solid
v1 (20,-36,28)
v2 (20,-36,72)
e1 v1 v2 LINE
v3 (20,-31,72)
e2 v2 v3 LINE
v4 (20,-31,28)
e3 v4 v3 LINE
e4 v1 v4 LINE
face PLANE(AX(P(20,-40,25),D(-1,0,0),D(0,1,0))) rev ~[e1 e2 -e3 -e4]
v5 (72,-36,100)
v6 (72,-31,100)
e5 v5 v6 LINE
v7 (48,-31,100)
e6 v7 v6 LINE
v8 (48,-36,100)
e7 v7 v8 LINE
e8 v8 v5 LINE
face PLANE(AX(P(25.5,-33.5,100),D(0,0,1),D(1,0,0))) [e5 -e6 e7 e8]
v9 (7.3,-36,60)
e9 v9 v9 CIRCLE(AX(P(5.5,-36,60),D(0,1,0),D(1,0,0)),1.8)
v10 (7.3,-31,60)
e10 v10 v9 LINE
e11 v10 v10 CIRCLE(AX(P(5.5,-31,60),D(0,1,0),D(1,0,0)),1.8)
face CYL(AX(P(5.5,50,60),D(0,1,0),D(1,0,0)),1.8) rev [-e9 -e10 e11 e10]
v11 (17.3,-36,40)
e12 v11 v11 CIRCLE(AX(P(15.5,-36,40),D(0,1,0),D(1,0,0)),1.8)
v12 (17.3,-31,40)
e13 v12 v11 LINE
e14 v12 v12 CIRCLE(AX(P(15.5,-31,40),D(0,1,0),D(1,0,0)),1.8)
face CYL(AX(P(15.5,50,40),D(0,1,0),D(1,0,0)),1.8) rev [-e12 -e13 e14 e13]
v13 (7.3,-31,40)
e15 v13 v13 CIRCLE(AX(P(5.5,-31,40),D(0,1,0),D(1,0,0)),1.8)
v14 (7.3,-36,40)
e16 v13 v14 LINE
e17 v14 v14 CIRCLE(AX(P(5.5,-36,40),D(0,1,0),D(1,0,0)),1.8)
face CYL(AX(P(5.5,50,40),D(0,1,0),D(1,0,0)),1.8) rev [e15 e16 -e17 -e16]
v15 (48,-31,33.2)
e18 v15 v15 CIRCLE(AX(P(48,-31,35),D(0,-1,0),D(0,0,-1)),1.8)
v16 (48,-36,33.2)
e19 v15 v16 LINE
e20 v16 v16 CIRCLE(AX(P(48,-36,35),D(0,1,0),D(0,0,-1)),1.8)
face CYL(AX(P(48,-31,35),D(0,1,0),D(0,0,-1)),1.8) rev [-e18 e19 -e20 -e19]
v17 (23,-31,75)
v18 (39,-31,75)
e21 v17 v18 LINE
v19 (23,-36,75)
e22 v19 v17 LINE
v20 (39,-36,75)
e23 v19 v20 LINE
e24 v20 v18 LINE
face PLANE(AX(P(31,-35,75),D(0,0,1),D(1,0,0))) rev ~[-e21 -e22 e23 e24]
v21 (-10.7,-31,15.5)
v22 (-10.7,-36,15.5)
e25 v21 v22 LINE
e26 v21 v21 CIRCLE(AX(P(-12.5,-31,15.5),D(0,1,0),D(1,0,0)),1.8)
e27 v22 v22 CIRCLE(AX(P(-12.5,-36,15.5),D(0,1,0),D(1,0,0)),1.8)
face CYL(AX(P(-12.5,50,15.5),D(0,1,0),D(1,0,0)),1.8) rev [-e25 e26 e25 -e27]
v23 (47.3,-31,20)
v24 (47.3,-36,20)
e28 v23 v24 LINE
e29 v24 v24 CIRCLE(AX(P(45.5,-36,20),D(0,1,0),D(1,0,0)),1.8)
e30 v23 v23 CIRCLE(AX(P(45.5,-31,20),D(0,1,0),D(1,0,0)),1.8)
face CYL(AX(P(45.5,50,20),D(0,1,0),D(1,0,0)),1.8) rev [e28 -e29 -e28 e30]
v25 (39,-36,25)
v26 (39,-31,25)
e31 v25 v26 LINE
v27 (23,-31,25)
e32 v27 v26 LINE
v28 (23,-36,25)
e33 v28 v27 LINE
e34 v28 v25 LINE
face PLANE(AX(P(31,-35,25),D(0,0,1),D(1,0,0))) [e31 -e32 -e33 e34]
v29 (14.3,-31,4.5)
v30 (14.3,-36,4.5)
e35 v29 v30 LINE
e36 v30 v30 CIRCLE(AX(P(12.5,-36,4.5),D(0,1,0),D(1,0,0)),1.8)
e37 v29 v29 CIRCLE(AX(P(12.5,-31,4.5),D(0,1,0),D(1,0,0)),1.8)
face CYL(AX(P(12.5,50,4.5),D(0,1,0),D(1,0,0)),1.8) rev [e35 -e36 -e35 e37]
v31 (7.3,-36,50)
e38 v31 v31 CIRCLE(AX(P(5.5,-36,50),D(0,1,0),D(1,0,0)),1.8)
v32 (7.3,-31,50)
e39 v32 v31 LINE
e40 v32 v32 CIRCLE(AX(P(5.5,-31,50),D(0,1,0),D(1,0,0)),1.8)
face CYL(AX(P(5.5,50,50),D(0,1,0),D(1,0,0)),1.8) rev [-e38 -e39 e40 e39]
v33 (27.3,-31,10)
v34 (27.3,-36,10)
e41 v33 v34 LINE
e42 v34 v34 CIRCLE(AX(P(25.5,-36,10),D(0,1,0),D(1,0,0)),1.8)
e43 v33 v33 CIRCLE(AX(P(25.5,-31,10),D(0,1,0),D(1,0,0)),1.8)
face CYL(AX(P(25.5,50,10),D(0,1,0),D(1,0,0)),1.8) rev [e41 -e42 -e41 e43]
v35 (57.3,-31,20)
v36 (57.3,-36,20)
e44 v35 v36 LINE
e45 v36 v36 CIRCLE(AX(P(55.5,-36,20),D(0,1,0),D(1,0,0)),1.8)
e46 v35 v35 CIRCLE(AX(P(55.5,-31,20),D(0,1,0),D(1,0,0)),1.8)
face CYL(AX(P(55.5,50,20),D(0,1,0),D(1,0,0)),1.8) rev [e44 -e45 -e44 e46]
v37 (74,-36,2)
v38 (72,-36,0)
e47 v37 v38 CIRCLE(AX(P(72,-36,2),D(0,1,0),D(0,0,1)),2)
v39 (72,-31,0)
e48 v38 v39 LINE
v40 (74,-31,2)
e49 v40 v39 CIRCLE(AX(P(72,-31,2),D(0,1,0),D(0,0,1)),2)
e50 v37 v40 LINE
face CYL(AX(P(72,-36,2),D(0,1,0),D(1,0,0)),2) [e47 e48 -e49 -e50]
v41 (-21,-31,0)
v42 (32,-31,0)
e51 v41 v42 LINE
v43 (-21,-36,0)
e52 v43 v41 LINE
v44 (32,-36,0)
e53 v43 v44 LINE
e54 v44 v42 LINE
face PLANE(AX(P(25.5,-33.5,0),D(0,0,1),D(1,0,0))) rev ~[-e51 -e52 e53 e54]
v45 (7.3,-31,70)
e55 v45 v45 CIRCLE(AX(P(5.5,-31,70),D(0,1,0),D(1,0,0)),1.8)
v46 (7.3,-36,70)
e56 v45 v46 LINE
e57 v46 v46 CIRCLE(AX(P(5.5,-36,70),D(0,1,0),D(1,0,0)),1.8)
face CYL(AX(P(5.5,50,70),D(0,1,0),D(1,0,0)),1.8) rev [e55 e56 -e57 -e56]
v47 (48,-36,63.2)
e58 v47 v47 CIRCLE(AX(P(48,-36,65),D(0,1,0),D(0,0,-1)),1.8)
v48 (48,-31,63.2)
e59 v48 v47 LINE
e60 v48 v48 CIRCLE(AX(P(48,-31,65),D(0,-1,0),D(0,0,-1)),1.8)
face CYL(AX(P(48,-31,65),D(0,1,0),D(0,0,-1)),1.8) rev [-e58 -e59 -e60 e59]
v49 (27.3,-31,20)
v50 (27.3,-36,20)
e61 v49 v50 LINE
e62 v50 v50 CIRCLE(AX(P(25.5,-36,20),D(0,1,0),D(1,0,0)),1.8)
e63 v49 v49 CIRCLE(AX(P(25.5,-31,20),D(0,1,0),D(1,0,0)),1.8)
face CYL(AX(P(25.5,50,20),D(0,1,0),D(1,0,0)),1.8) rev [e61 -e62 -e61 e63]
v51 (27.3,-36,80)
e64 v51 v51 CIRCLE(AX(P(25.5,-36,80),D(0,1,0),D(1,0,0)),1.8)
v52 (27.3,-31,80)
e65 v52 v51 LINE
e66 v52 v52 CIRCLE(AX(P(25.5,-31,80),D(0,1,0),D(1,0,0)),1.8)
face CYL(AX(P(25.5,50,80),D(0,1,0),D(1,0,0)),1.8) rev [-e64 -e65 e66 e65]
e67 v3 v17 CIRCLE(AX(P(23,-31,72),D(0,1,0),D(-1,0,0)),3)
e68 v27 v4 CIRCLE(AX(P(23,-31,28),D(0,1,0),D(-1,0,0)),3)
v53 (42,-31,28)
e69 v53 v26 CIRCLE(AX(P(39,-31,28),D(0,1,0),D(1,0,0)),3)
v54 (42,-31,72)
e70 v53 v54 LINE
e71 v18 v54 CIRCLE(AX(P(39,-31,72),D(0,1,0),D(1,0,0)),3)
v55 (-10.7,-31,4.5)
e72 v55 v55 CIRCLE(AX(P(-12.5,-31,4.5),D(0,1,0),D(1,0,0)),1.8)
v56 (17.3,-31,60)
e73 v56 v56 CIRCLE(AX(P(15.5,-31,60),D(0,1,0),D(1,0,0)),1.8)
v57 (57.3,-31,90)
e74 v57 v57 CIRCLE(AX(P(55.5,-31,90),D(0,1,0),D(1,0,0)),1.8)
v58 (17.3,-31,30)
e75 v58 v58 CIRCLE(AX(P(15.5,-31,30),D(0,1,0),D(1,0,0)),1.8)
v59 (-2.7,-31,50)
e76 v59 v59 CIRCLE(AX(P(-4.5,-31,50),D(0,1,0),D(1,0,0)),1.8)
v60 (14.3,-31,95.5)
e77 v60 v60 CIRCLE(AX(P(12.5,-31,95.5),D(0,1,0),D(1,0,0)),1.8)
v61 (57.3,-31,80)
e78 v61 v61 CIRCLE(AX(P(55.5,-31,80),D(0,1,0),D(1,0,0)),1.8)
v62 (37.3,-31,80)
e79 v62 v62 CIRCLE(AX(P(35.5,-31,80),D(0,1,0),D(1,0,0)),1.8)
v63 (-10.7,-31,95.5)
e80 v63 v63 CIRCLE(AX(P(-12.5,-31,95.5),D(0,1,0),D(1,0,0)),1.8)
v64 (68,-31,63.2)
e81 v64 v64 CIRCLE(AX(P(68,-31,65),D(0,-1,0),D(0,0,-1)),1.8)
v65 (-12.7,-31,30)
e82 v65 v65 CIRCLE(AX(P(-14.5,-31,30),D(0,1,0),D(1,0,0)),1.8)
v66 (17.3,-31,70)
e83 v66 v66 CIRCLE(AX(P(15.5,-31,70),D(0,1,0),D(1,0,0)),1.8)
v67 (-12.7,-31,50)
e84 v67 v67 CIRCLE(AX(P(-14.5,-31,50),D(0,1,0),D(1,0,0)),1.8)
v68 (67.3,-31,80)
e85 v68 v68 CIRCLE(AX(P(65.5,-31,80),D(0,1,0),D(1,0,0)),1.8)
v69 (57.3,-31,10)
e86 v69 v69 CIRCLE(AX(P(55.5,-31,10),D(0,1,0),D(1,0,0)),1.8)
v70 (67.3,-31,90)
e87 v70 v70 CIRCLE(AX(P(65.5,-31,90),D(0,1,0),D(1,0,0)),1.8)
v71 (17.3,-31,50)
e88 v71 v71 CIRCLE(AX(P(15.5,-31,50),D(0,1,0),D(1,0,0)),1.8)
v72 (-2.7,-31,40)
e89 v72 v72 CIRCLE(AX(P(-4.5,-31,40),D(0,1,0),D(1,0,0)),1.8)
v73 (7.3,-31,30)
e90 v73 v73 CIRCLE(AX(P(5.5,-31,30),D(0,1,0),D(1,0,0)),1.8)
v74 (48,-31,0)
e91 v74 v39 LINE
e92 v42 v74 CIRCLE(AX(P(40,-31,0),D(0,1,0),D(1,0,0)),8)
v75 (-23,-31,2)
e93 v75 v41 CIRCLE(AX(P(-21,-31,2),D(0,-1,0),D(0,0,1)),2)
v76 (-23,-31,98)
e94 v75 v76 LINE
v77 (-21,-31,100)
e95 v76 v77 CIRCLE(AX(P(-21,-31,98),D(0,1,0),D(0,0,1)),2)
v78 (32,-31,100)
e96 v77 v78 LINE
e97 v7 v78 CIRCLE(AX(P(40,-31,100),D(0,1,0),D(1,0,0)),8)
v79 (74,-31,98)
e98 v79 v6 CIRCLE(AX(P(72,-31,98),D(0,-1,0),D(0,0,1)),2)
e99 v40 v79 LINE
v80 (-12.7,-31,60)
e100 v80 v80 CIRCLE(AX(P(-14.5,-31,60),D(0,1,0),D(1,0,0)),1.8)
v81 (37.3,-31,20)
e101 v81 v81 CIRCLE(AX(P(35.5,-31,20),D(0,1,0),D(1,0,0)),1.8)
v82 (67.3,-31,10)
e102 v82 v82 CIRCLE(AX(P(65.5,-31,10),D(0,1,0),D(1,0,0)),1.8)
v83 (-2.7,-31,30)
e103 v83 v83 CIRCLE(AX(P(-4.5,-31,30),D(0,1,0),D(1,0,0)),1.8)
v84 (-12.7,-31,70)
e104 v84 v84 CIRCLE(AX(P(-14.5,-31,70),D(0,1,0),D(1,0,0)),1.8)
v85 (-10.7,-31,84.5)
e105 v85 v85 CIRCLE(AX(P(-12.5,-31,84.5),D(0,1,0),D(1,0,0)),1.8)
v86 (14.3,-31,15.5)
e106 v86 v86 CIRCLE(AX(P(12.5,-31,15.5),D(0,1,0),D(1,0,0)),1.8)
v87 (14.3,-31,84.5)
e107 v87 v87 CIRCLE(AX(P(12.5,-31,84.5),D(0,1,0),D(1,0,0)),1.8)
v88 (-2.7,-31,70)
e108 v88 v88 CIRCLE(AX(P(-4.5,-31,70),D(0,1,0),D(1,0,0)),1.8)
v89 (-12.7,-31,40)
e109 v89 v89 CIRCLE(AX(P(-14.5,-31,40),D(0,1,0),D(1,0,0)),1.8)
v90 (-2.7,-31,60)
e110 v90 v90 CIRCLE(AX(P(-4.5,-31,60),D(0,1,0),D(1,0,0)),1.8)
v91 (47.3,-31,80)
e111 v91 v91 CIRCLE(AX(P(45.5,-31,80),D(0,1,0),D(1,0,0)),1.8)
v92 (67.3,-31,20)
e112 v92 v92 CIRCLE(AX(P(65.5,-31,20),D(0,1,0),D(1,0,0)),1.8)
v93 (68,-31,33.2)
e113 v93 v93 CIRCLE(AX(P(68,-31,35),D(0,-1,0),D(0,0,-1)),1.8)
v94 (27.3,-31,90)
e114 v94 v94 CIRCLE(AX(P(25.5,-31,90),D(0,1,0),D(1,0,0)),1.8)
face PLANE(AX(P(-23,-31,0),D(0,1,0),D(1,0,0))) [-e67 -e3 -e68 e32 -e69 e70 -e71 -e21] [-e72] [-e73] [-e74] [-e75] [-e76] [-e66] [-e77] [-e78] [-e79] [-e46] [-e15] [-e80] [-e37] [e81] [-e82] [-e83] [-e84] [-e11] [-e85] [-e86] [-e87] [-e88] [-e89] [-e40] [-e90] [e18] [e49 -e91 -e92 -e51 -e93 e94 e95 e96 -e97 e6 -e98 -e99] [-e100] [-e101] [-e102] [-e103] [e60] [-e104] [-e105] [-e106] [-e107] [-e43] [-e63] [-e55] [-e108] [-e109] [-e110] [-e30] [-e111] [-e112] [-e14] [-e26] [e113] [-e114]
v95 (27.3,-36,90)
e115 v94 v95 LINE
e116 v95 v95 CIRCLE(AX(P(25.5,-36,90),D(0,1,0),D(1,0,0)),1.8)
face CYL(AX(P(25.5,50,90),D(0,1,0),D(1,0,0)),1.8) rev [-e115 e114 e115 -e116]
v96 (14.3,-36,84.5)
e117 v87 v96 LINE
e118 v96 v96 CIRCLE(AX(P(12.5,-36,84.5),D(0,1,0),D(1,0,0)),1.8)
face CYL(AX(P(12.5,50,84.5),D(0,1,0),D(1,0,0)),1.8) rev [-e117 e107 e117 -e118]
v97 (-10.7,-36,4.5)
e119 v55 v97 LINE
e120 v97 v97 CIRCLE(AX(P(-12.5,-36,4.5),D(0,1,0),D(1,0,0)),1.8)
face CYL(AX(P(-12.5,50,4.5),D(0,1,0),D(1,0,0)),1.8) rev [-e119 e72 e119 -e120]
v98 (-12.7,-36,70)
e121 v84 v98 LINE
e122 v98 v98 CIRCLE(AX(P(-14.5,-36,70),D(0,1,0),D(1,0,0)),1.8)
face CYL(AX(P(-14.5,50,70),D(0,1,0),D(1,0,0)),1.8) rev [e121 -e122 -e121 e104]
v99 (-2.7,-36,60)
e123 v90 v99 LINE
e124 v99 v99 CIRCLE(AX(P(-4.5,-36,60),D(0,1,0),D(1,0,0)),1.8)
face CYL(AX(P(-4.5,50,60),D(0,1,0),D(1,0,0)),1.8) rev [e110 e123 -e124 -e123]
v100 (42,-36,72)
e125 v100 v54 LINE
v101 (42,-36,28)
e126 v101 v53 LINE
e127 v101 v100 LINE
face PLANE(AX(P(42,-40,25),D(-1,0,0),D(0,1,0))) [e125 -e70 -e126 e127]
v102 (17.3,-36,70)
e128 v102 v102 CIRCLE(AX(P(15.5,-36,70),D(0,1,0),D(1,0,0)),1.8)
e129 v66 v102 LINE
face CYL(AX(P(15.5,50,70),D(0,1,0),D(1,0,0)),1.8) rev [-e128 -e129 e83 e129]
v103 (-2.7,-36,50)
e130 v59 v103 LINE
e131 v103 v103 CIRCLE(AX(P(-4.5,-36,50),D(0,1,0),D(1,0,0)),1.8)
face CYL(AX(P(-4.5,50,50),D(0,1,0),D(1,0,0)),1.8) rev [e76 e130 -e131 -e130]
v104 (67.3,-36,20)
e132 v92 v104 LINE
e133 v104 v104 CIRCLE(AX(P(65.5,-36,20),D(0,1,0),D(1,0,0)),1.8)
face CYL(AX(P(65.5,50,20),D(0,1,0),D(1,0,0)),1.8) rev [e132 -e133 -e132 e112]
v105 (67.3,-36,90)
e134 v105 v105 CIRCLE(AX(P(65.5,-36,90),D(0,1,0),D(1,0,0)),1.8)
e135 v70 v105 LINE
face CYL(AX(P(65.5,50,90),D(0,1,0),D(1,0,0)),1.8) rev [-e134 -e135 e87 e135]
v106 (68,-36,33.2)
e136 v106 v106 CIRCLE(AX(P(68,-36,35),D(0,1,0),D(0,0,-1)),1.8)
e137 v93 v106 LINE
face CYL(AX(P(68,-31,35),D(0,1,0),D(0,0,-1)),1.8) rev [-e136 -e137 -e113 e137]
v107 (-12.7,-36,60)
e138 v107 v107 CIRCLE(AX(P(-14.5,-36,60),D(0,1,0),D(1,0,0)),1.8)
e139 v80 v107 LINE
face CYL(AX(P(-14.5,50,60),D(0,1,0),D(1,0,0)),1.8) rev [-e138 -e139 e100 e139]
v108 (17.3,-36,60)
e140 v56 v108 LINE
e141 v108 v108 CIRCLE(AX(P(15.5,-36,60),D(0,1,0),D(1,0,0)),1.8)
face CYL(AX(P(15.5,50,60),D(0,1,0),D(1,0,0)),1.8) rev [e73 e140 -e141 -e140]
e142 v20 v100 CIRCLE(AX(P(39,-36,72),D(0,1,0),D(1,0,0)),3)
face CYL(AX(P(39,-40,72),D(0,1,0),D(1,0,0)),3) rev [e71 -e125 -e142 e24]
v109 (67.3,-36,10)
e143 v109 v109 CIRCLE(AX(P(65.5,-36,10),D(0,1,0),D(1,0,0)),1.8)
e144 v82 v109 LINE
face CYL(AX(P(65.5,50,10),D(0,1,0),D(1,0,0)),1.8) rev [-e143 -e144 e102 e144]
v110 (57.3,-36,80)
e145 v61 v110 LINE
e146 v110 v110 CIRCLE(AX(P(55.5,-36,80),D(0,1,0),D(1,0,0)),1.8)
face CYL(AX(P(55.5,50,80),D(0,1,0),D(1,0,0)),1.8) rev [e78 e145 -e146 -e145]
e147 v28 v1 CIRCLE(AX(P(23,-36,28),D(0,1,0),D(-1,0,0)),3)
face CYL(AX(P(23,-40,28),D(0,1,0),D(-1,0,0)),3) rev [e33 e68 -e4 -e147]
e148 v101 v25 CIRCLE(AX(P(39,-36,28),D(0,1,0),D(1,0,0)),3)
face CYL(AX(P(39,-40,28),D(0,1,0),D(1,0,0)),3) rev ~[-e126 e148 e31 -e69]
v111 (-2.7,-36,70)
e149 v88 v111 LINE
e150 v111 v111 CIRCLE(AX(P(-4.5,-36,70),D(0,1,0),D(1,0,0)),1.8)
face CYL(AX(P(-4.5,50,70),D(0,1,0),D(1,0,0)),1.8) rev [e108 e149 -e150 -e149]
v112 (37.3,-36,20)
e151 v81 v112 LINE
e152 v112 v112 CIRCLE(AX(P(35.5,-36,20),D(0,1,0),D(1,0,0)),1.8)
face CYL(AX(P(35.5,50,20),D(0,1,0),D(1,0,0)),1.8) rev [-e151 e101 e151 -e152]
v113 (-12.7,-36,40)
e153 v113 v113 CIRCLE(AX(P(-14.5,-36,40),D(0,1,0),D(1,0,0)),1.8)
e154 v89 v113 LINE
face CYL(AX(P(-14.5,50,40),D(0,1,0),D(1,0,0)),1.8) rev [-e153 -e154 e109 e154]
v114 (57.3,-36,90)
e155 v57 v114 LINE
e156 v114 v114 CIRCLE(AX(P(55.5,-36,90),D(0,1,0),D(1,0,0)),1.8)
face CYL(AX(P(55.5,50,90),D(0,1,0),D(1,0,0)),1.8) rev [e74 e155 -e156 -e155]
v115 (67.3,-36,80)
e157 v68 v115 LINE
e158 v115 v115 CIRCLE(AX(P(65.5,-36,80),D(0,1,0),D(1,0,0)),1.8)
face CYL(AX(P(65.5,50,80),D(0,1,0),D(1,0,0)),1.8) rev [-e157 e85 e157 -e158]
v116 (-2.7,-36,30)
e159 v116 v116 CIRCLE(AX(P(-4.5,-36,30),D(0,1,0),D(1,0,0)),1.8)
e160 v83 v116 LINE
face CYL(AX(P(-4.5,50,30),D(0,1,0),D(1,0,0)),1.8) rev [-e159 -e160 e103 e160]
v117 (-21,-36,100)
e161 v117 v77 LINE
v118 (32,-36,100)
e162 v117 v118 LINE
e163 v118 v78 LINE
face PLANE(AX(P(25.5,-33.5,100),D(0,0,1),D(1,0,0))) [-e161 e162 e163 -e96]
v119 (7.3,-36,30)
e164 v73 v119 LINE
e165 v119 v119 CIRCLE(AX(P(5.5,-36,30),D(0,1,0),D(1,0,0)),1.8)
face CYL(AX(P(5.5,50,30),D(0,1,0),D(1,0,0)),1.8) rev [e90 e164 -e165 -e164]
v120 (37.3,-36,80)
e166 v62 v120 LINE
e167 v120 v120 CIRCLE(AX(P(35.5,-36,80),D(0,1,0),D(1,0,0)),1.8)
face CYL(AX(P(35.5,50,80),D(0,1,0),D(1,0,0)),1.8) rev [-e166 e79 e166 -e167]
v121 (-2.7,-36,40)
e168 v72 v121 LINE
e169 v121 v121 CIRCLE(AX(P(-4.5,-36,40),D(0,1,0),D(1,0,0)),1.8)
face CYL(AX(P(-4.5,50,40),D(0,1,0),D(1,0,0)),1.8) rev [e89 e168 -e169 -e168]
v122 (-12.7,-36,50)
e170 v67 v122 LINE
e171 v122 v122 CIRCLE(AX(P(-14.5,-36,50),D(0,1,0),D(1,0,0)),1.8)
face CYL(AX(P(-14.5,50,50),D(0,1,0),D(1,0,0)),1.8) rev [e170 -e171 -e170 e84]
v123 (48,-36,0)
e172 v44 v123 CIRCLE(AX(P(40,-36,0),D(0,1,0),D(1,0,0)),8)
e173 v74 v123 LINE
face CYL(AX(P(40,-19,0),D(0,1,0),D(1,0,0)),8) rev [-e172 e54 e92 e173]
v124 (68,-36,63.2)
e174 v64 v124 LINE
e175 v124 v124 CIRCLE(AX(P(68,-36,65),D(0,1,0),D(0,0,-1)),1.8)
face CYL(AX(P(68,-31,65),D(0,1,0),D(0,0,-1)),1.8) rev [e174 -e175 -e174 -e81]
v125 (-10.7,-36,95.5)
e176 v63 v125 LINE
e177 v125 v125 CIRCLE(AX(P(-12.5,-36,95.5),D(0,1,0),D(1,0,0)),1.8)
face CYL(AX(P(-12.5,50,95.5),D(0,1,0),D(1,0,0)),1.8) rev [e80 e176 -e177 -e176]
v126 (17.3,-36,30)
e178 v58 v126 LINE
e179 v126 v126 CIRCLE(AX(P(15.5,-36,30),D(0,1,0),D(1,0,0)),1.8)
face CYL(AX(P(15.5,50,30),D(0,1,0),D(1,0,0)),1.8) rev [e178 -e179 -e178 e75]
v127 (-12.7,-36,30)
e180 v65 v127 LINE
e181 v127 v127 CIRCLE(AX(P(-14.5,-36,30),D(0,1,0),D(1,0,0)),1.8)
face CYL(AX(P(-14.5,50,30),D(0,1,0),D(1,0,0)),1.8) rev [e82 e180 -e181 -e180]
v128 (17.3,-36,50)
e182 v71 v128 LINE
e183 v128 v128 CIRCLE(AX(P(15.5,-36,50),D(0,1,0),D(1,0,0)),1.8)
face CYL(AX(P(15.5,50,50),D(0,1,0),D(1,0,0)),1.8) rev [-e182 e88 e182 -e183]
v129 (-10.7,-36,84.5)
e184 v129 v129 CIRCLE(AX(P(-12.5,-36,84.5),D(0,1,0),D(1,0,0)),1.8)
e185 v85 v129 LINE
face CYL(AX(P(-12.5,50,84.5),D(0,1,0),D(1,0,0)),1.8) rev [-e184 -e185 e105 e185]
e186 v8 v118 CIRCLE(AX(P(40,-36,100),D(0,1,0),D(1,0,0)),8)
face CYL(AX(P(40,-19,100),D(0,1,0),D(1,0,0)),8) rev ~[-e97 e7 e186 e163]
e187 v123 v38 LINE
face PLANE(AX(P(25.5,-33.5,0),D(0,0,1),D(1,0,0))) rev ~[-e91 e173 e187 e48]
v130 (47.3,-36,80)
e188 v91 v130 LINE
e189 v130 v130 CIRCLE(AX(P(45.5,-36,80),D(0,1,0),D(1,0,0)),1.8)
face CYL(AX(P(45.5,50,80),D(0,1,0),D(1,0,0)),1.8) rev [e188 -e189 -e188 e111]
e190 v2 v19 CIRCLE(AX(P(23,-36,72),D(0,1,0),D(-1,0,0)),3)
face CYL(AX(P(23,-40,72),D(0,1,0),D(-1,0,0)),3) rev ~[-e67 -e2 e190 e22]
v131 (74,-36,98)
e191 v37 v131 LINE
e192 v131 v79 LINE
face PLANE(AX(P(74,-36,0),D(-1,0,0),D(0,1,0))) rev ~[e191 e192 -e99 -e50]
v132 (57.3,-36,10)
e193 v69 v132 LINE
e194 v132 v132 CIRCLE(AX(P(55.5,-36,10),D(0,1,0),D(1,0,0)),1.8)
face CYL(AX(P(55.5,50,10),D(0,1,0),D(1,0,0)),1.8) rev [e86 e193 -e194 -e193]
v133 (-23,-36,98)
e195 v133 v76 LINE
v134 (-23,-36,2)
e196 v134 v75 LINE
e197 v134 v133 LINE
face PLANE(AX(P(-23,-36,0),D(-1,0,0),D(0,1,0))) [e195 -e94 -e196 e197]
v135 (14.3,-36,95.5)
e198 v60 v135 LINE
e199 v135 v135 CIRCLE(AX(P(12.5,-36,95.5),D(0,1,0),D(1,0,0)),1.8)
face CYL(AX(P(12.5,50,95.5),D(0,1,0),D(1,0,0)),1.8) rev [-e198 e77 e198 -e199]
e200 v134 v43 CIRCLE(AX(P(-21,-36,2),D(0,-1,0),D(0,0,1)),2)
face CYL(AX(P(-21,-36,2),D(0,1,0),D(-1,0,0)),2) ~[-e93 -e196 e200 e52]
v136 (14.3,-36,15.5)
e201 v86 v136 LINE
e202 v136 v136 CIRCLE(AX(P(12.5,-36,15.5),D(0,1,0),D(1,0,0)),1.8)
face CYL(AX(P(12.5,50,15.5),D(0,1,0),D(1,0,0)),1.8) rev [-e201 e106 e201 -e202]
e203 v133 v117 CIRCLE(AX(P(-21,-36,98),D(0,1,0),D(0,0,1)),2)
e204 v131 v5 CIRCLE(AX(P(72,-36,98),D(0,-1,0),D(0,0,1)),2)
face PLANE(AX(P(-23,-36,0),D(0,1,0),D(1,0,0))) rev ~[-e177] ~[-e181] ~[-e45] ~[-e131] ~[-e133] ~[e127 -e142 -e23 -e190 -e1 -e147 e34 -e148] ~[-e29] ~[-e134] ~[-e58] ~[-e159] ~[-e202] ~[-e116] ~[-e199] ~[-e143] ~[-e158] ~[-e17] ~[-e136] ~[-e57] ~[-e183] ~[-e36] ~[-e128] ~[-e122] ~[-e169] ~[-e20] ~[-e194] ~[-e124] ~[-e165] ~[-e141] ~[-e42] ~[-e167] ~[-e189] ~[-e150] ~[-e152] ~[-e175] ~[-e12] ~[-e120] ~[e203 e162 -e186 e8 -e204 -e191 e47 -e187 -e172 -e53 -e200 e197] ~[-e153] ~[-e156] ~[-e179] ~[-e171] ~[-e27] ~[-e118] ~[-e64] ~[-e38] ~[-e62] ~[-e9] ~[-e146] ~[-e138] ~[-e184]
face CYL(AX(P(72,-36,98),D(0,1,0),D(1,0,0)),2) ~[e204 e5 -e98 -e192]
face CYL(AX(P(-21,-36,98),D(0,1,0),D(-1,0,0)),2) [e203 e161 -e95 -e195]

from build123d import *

# Parameters (mm, degrees)
CYLINDER011021_R         = 1.8
CYLINDER011021_DEPTH     = 100
ARRAY016_X_COUNT         = 2
ARRAY016_X_PITCH         = 25
ARRAY016_Y_COUNT         = 2
ARRAY016_Y_PITCH         = 11
ARRAY016_PLACEMENT_ANGLE = 90
ARRAY015_Z_COUNT         = 2
ARRAY015_Z_PITCH         = 80
CYLINDER011026_R         = 1.8
CYLINDER011026_DEPTH     = 10
ARRAY014_X_COUNT         = 2
ARRAY014_X_PITCH         = 30
ARRAY014_Y_COUNT         = 2
ARRAY014_Y_PITCH         = 20
ARRAY014_PITCH_ANGLE     = 90
ARRAY014_PLACEMENT_ANGLE = -90
BOX008_W                 = 22
BOX008_H                 = 10
BOX008_DEPTH             = 50
FILLET006_R              = 3
BOX009_W                 = 16
BOX009_H                 = 200
BOX009_DEPTH             = 50
CYLINDER011028_R         = 8
CYLINDER011028_DEPTH     = 200
SKETCH005_W              = 42.117567
SKETCH005_H              = 23.738708
SKETCH005_W_2            = 40.471139
SKETCH005_H_2            = 27.047569
SKETCH005_W_3            = 29.381024
SKETCH005_H_3            = 46.19655
SKETCH005_W_4            = 20.234924
SKETCH005_H_4            = 18.380661
SKETCH005_W_5            = 22.001269
SKETCH005_H_5            = 17.778789
EXTRUDE003_DEPTH         = 50
CYLINDER011025_R         = 1.8
CYLINDER011025_DEPTH     = 100
ARRAY013_X_COUNT         = 9
ARRAY013_X_PITCH         = 10
ARRAY013_Z_COUNT         = 9
ARRAY013_Z_PITCH         = 10
BOX007_W                 = 97
BOX007_H                 = 5
BOX007_DEPTH             = 100
FILLET005_R              = 2


with BuildPart() as bolt_hole_array_pair002:
    # Cylinder011021 → Cylinder011021 (new body)
    with BuildSketch(Plane.XY.offset(-50)):
        Circle(CYLINDER011021_R)
    extrude(amount=CYLINDER011021_DEPTH)

    # Array016 X: bolt hole array pair002 ×2


with BuildPart() as bolt_hole_array_pair002_1:
    add(bolt_hole_array_pair002.part)
    with Locations(*[(i * ARRAY016_X_PITCH, 0, 0) for i in range(1, ARRAY016_X_COUNT)]):
        add(bolt_hole_array_pair002.part)

    # Array016 Y: bolt hole array pair002 ×2


with BuildPart() as bolt_hole_array_pair002_2:
    add(bolt_hole_array_pair002_1.part)
    with Locations(*[(0, i * ARRAY016_Y_PITCH, 0) for i in range(1, ARRAY016_Y_COUNT)]):
        add(bolt_hole_array_pair002_1.part)


with BuildPart() as bolt_hole_array_pair002_3:
    # Array016 placement: moved
    add(bolt_hole_array_pair002_2.part.moved(Location((-12.5, 0, 4.5))).rotate(Axis((-12.5, 0, 4.5), (1, 0, 0)), ARRAY016_PLACEMENT_ANGLE))

    # Array015 Z: bolt hole array pair002 ×2


with BuildPart() as bolt_hole_array_pair002_4:
    add(bolt_hole_array_pair002_3.part)
    with Locations(*[(0, 0, i * ARRAY015_Z_PITCH) for i in range(1, ARRAY015_Z_COUNT)]):
        add(bolt_hole_array_pair002_3.part)


with BuildPart() as stepper_mount_hole_array002:
    # Cylinder011026 → Cylinder011026 (new body)
    with BuildSketch(Plane.XY):
        Circle(CYLINDER011026_R)
    extrude(amount=CYLINDER011026_DEPTH)

    # Array014 X: stepper mount hole array002 ×2


with BuildPart() as stepper_mount_hole_array002_1:
    add(stepper_mount_hole_array002.part)
    with Locations(*[(i * ARRAY014_X_PITCH, 0, 0) for i in range(1, ARRAY014_X_COUNT)]):
        add(stepper_mount_hole_array002.part)

    # Array014 Y: stepper mount hole array002 ×2


with BuildPart() as stepper_mount_hole_array002_2:
    add(stepper_mount_hole_array002_1.part)
    with Locations(*[(0, i * ARRAY014_Y_PITCH, 0) for i in range(1, ARRAY014_Y_COUNT)]):
        add(stepper_mount_hole_array002_1.part)


with BuildPart() as stepper_mount_hole_array002_3:
    # Array014 pitch: moved
    add(stepper_mount_hole_array002_2.part.rotate(Axis((0, 0, 0), (0, 1, 0)), ARRAY014_PITCH_ANGLE))


with BuildPart() as stepper_mount_hole_array002_4:
    # Array014 placement: moved
    add(stepper_mount_hole_array002_3.part.moved(Location((48, -31, 65))).rotate(Axis((48, -31, 65), (0, 0, 1)), ARRAY014_PLACEMENT_ANGLE))


with BuildPart() as belt_hole_fillet002:
    # Box008 → Box008 (new body)
    with BuildSketch(Plane(origin=(20, -40, 25), x_dir=(1, 0, 0), z_dir=(0, 0, 1))):
        with Locations((11, 5)):
            Rectangle(BOX008_W, BOX008_H)
    extrude(amount=BOX008_DEPTH)

    # Fillet006
    fillet006_edges = [belt_hole_fillet002.edges().sort_by_distance(p)[0] for p in [
        (20, -35, 75),
        (20, -35, 25),
        (42, -35, 75),
        (42, -35, 25),
    ]]
    fillet(fillet006_edges, radius=FILLET006_R)


with BuildPart() as shaft_extension_cube002:
    # Box009 → Box009 (new body)
    with BuildSketch(Plane(origin=(-8, -200, -50), x_dir=(1, 0, 0), z_dir=(0, 0, 1))):
        with Locations((8, 100)):
            Rectangle(BOX009_W, BOX009_H)
    extrude(amount=BOX009_DEPTH)


with BuildPart() as shaft_16mm_hole002:
    # Cylinder011028 → Cylinder011028 (new body)
    with BuildSketch(Plane.XZ):
        Circle(CYLINDER011028_R)
    extrude(amount=CYLINDER011028_DEPTH)

    # Fusion010: union shaft extension cube002
    add(shaft_extension_cube002.part)


with BuildPart() as shaft_16mm_hole002_1:
    # Fusion010 placement: moved
    add(shaft_16mm_hole002.part.moved(Location((40, -19, 0))))


with BuildPart() as part_mirroring004:
    # Part__Mirroring004: instance of shaft 16mm hole002
    add(shaft_16mm_hole002_1.part.mirror(Plane(origin=(0, 0, 50), x_dir=(0, 1, 0), z_dir=(0, 0, 1))))


with BuildPart() as general_holes_extrude002:
    # Sketch005 → Extrude003 (new body, symmetric)
    with BuildSketch(Plane.XZ):
        with Locations((-1.795196, 11.674214)):
            Rectangle(SKETCH005_W, SKETCH005_H)
        with Locations((-0.985158, 89.151065)):
            Rectangle(SKETCH005_W_2, SKETCH005_H_2)
        with Locations((57.017252, 49.302802)):
            Rectangle(SKETCH005_W_3, SKETCH005_H_3)
        with Locations((39.542156, 93.364433)):
            Rectangle(SKETCH005_W_4, SKETCH005_H_4)
        with Locations((39.547934, 5.882593)):
            Rectangle(SKETCH005_W_5, SKETCH005_H_5)
    extrude(amount=EXTRUDE003_DEPTH, both=True)


with BuildPart() as hole_fusion002:
    # Cylinder011025 → Cylinder011025 (new body)
    with BuildSketch(Plane.XZ.offset(-50)):
        Circle(CYLINDER011025_R)
    extrude(amount=CYLINDER011025_DEPTH)

    # Array013 X: hole fusion002 ×9


with BuildPart() as hole_fusion002_1:
    add(hole_fusion002.part)
    with Locations(*[(i * ARRAY013_X_PITCH, 0, 0) for i in range(1, ARRAY013_X_COUNT)]):
        add(hole_fusion002.part)

    # Array013 Z: hole fusion002 ×9


with BuildPart() as hole_fusion002_2:
    add(hole_fusion002_1.part)
    with Locations(*[(0, 0, i * ARRAY013_Z_PITCH) for i in range(1, ARRAY013_Z_COUNT)]):
        add(hole_fusion002_1.part)


with BuildPart() as hole_fusion002_3:
    # Array013 placement: moved
    add(hole_fusion002_2.part.moved(Location((-14.5, 0, 10))))

    # Cut023015009015: cut general holes extrude002
    add(general_holes_extrude002.part, mode=Mode.SUBTRACT)

    # Fusion011: union bolt hole array pair002, stepper mount hole array002, belt hole fillet002, Part__Mirroring004, shaft 16mm hole002
    add(bolt_hole_array_pair002_4.part)
    add(stepper_mount_hole_array002_4.part)
    add(belt_hole_fillet002.part)
    add(part_mirroring004.part)
    add(shaft_16mm_hole002_1.part)


with BuildPart() as side_plate_cut002:
    # Box007 → Box007 (new body)
    with BuildSketch(Plane(origin=(-23, -36, 0), x_dir=(1, 0, 0), z_dir=(0, 0, 1))):
        with Locations((48.5, 2.5)):
            Rectangle(BOX007_W, BOX007_H)
    extrude(amount=BOX007_DEPTH)

    # Fillet005
    fillet005_edges = [side_plate_cut002.edges().sort_by_distance(p)[0] for p in [
        (-23, -33.5, 100),
        (-23, -33.5, 0),
        (74, -33.5, 100),
        (74, -33.5, 0),
    ]]
    fillet(fillet005_edges, radius=FILLET005_R)

    # Cut023015009019: cut hole fusion002
    add(hole_fusion002_3.part, mode=Mode.SUBTRACT)


solid = side_plate_cut002.part
